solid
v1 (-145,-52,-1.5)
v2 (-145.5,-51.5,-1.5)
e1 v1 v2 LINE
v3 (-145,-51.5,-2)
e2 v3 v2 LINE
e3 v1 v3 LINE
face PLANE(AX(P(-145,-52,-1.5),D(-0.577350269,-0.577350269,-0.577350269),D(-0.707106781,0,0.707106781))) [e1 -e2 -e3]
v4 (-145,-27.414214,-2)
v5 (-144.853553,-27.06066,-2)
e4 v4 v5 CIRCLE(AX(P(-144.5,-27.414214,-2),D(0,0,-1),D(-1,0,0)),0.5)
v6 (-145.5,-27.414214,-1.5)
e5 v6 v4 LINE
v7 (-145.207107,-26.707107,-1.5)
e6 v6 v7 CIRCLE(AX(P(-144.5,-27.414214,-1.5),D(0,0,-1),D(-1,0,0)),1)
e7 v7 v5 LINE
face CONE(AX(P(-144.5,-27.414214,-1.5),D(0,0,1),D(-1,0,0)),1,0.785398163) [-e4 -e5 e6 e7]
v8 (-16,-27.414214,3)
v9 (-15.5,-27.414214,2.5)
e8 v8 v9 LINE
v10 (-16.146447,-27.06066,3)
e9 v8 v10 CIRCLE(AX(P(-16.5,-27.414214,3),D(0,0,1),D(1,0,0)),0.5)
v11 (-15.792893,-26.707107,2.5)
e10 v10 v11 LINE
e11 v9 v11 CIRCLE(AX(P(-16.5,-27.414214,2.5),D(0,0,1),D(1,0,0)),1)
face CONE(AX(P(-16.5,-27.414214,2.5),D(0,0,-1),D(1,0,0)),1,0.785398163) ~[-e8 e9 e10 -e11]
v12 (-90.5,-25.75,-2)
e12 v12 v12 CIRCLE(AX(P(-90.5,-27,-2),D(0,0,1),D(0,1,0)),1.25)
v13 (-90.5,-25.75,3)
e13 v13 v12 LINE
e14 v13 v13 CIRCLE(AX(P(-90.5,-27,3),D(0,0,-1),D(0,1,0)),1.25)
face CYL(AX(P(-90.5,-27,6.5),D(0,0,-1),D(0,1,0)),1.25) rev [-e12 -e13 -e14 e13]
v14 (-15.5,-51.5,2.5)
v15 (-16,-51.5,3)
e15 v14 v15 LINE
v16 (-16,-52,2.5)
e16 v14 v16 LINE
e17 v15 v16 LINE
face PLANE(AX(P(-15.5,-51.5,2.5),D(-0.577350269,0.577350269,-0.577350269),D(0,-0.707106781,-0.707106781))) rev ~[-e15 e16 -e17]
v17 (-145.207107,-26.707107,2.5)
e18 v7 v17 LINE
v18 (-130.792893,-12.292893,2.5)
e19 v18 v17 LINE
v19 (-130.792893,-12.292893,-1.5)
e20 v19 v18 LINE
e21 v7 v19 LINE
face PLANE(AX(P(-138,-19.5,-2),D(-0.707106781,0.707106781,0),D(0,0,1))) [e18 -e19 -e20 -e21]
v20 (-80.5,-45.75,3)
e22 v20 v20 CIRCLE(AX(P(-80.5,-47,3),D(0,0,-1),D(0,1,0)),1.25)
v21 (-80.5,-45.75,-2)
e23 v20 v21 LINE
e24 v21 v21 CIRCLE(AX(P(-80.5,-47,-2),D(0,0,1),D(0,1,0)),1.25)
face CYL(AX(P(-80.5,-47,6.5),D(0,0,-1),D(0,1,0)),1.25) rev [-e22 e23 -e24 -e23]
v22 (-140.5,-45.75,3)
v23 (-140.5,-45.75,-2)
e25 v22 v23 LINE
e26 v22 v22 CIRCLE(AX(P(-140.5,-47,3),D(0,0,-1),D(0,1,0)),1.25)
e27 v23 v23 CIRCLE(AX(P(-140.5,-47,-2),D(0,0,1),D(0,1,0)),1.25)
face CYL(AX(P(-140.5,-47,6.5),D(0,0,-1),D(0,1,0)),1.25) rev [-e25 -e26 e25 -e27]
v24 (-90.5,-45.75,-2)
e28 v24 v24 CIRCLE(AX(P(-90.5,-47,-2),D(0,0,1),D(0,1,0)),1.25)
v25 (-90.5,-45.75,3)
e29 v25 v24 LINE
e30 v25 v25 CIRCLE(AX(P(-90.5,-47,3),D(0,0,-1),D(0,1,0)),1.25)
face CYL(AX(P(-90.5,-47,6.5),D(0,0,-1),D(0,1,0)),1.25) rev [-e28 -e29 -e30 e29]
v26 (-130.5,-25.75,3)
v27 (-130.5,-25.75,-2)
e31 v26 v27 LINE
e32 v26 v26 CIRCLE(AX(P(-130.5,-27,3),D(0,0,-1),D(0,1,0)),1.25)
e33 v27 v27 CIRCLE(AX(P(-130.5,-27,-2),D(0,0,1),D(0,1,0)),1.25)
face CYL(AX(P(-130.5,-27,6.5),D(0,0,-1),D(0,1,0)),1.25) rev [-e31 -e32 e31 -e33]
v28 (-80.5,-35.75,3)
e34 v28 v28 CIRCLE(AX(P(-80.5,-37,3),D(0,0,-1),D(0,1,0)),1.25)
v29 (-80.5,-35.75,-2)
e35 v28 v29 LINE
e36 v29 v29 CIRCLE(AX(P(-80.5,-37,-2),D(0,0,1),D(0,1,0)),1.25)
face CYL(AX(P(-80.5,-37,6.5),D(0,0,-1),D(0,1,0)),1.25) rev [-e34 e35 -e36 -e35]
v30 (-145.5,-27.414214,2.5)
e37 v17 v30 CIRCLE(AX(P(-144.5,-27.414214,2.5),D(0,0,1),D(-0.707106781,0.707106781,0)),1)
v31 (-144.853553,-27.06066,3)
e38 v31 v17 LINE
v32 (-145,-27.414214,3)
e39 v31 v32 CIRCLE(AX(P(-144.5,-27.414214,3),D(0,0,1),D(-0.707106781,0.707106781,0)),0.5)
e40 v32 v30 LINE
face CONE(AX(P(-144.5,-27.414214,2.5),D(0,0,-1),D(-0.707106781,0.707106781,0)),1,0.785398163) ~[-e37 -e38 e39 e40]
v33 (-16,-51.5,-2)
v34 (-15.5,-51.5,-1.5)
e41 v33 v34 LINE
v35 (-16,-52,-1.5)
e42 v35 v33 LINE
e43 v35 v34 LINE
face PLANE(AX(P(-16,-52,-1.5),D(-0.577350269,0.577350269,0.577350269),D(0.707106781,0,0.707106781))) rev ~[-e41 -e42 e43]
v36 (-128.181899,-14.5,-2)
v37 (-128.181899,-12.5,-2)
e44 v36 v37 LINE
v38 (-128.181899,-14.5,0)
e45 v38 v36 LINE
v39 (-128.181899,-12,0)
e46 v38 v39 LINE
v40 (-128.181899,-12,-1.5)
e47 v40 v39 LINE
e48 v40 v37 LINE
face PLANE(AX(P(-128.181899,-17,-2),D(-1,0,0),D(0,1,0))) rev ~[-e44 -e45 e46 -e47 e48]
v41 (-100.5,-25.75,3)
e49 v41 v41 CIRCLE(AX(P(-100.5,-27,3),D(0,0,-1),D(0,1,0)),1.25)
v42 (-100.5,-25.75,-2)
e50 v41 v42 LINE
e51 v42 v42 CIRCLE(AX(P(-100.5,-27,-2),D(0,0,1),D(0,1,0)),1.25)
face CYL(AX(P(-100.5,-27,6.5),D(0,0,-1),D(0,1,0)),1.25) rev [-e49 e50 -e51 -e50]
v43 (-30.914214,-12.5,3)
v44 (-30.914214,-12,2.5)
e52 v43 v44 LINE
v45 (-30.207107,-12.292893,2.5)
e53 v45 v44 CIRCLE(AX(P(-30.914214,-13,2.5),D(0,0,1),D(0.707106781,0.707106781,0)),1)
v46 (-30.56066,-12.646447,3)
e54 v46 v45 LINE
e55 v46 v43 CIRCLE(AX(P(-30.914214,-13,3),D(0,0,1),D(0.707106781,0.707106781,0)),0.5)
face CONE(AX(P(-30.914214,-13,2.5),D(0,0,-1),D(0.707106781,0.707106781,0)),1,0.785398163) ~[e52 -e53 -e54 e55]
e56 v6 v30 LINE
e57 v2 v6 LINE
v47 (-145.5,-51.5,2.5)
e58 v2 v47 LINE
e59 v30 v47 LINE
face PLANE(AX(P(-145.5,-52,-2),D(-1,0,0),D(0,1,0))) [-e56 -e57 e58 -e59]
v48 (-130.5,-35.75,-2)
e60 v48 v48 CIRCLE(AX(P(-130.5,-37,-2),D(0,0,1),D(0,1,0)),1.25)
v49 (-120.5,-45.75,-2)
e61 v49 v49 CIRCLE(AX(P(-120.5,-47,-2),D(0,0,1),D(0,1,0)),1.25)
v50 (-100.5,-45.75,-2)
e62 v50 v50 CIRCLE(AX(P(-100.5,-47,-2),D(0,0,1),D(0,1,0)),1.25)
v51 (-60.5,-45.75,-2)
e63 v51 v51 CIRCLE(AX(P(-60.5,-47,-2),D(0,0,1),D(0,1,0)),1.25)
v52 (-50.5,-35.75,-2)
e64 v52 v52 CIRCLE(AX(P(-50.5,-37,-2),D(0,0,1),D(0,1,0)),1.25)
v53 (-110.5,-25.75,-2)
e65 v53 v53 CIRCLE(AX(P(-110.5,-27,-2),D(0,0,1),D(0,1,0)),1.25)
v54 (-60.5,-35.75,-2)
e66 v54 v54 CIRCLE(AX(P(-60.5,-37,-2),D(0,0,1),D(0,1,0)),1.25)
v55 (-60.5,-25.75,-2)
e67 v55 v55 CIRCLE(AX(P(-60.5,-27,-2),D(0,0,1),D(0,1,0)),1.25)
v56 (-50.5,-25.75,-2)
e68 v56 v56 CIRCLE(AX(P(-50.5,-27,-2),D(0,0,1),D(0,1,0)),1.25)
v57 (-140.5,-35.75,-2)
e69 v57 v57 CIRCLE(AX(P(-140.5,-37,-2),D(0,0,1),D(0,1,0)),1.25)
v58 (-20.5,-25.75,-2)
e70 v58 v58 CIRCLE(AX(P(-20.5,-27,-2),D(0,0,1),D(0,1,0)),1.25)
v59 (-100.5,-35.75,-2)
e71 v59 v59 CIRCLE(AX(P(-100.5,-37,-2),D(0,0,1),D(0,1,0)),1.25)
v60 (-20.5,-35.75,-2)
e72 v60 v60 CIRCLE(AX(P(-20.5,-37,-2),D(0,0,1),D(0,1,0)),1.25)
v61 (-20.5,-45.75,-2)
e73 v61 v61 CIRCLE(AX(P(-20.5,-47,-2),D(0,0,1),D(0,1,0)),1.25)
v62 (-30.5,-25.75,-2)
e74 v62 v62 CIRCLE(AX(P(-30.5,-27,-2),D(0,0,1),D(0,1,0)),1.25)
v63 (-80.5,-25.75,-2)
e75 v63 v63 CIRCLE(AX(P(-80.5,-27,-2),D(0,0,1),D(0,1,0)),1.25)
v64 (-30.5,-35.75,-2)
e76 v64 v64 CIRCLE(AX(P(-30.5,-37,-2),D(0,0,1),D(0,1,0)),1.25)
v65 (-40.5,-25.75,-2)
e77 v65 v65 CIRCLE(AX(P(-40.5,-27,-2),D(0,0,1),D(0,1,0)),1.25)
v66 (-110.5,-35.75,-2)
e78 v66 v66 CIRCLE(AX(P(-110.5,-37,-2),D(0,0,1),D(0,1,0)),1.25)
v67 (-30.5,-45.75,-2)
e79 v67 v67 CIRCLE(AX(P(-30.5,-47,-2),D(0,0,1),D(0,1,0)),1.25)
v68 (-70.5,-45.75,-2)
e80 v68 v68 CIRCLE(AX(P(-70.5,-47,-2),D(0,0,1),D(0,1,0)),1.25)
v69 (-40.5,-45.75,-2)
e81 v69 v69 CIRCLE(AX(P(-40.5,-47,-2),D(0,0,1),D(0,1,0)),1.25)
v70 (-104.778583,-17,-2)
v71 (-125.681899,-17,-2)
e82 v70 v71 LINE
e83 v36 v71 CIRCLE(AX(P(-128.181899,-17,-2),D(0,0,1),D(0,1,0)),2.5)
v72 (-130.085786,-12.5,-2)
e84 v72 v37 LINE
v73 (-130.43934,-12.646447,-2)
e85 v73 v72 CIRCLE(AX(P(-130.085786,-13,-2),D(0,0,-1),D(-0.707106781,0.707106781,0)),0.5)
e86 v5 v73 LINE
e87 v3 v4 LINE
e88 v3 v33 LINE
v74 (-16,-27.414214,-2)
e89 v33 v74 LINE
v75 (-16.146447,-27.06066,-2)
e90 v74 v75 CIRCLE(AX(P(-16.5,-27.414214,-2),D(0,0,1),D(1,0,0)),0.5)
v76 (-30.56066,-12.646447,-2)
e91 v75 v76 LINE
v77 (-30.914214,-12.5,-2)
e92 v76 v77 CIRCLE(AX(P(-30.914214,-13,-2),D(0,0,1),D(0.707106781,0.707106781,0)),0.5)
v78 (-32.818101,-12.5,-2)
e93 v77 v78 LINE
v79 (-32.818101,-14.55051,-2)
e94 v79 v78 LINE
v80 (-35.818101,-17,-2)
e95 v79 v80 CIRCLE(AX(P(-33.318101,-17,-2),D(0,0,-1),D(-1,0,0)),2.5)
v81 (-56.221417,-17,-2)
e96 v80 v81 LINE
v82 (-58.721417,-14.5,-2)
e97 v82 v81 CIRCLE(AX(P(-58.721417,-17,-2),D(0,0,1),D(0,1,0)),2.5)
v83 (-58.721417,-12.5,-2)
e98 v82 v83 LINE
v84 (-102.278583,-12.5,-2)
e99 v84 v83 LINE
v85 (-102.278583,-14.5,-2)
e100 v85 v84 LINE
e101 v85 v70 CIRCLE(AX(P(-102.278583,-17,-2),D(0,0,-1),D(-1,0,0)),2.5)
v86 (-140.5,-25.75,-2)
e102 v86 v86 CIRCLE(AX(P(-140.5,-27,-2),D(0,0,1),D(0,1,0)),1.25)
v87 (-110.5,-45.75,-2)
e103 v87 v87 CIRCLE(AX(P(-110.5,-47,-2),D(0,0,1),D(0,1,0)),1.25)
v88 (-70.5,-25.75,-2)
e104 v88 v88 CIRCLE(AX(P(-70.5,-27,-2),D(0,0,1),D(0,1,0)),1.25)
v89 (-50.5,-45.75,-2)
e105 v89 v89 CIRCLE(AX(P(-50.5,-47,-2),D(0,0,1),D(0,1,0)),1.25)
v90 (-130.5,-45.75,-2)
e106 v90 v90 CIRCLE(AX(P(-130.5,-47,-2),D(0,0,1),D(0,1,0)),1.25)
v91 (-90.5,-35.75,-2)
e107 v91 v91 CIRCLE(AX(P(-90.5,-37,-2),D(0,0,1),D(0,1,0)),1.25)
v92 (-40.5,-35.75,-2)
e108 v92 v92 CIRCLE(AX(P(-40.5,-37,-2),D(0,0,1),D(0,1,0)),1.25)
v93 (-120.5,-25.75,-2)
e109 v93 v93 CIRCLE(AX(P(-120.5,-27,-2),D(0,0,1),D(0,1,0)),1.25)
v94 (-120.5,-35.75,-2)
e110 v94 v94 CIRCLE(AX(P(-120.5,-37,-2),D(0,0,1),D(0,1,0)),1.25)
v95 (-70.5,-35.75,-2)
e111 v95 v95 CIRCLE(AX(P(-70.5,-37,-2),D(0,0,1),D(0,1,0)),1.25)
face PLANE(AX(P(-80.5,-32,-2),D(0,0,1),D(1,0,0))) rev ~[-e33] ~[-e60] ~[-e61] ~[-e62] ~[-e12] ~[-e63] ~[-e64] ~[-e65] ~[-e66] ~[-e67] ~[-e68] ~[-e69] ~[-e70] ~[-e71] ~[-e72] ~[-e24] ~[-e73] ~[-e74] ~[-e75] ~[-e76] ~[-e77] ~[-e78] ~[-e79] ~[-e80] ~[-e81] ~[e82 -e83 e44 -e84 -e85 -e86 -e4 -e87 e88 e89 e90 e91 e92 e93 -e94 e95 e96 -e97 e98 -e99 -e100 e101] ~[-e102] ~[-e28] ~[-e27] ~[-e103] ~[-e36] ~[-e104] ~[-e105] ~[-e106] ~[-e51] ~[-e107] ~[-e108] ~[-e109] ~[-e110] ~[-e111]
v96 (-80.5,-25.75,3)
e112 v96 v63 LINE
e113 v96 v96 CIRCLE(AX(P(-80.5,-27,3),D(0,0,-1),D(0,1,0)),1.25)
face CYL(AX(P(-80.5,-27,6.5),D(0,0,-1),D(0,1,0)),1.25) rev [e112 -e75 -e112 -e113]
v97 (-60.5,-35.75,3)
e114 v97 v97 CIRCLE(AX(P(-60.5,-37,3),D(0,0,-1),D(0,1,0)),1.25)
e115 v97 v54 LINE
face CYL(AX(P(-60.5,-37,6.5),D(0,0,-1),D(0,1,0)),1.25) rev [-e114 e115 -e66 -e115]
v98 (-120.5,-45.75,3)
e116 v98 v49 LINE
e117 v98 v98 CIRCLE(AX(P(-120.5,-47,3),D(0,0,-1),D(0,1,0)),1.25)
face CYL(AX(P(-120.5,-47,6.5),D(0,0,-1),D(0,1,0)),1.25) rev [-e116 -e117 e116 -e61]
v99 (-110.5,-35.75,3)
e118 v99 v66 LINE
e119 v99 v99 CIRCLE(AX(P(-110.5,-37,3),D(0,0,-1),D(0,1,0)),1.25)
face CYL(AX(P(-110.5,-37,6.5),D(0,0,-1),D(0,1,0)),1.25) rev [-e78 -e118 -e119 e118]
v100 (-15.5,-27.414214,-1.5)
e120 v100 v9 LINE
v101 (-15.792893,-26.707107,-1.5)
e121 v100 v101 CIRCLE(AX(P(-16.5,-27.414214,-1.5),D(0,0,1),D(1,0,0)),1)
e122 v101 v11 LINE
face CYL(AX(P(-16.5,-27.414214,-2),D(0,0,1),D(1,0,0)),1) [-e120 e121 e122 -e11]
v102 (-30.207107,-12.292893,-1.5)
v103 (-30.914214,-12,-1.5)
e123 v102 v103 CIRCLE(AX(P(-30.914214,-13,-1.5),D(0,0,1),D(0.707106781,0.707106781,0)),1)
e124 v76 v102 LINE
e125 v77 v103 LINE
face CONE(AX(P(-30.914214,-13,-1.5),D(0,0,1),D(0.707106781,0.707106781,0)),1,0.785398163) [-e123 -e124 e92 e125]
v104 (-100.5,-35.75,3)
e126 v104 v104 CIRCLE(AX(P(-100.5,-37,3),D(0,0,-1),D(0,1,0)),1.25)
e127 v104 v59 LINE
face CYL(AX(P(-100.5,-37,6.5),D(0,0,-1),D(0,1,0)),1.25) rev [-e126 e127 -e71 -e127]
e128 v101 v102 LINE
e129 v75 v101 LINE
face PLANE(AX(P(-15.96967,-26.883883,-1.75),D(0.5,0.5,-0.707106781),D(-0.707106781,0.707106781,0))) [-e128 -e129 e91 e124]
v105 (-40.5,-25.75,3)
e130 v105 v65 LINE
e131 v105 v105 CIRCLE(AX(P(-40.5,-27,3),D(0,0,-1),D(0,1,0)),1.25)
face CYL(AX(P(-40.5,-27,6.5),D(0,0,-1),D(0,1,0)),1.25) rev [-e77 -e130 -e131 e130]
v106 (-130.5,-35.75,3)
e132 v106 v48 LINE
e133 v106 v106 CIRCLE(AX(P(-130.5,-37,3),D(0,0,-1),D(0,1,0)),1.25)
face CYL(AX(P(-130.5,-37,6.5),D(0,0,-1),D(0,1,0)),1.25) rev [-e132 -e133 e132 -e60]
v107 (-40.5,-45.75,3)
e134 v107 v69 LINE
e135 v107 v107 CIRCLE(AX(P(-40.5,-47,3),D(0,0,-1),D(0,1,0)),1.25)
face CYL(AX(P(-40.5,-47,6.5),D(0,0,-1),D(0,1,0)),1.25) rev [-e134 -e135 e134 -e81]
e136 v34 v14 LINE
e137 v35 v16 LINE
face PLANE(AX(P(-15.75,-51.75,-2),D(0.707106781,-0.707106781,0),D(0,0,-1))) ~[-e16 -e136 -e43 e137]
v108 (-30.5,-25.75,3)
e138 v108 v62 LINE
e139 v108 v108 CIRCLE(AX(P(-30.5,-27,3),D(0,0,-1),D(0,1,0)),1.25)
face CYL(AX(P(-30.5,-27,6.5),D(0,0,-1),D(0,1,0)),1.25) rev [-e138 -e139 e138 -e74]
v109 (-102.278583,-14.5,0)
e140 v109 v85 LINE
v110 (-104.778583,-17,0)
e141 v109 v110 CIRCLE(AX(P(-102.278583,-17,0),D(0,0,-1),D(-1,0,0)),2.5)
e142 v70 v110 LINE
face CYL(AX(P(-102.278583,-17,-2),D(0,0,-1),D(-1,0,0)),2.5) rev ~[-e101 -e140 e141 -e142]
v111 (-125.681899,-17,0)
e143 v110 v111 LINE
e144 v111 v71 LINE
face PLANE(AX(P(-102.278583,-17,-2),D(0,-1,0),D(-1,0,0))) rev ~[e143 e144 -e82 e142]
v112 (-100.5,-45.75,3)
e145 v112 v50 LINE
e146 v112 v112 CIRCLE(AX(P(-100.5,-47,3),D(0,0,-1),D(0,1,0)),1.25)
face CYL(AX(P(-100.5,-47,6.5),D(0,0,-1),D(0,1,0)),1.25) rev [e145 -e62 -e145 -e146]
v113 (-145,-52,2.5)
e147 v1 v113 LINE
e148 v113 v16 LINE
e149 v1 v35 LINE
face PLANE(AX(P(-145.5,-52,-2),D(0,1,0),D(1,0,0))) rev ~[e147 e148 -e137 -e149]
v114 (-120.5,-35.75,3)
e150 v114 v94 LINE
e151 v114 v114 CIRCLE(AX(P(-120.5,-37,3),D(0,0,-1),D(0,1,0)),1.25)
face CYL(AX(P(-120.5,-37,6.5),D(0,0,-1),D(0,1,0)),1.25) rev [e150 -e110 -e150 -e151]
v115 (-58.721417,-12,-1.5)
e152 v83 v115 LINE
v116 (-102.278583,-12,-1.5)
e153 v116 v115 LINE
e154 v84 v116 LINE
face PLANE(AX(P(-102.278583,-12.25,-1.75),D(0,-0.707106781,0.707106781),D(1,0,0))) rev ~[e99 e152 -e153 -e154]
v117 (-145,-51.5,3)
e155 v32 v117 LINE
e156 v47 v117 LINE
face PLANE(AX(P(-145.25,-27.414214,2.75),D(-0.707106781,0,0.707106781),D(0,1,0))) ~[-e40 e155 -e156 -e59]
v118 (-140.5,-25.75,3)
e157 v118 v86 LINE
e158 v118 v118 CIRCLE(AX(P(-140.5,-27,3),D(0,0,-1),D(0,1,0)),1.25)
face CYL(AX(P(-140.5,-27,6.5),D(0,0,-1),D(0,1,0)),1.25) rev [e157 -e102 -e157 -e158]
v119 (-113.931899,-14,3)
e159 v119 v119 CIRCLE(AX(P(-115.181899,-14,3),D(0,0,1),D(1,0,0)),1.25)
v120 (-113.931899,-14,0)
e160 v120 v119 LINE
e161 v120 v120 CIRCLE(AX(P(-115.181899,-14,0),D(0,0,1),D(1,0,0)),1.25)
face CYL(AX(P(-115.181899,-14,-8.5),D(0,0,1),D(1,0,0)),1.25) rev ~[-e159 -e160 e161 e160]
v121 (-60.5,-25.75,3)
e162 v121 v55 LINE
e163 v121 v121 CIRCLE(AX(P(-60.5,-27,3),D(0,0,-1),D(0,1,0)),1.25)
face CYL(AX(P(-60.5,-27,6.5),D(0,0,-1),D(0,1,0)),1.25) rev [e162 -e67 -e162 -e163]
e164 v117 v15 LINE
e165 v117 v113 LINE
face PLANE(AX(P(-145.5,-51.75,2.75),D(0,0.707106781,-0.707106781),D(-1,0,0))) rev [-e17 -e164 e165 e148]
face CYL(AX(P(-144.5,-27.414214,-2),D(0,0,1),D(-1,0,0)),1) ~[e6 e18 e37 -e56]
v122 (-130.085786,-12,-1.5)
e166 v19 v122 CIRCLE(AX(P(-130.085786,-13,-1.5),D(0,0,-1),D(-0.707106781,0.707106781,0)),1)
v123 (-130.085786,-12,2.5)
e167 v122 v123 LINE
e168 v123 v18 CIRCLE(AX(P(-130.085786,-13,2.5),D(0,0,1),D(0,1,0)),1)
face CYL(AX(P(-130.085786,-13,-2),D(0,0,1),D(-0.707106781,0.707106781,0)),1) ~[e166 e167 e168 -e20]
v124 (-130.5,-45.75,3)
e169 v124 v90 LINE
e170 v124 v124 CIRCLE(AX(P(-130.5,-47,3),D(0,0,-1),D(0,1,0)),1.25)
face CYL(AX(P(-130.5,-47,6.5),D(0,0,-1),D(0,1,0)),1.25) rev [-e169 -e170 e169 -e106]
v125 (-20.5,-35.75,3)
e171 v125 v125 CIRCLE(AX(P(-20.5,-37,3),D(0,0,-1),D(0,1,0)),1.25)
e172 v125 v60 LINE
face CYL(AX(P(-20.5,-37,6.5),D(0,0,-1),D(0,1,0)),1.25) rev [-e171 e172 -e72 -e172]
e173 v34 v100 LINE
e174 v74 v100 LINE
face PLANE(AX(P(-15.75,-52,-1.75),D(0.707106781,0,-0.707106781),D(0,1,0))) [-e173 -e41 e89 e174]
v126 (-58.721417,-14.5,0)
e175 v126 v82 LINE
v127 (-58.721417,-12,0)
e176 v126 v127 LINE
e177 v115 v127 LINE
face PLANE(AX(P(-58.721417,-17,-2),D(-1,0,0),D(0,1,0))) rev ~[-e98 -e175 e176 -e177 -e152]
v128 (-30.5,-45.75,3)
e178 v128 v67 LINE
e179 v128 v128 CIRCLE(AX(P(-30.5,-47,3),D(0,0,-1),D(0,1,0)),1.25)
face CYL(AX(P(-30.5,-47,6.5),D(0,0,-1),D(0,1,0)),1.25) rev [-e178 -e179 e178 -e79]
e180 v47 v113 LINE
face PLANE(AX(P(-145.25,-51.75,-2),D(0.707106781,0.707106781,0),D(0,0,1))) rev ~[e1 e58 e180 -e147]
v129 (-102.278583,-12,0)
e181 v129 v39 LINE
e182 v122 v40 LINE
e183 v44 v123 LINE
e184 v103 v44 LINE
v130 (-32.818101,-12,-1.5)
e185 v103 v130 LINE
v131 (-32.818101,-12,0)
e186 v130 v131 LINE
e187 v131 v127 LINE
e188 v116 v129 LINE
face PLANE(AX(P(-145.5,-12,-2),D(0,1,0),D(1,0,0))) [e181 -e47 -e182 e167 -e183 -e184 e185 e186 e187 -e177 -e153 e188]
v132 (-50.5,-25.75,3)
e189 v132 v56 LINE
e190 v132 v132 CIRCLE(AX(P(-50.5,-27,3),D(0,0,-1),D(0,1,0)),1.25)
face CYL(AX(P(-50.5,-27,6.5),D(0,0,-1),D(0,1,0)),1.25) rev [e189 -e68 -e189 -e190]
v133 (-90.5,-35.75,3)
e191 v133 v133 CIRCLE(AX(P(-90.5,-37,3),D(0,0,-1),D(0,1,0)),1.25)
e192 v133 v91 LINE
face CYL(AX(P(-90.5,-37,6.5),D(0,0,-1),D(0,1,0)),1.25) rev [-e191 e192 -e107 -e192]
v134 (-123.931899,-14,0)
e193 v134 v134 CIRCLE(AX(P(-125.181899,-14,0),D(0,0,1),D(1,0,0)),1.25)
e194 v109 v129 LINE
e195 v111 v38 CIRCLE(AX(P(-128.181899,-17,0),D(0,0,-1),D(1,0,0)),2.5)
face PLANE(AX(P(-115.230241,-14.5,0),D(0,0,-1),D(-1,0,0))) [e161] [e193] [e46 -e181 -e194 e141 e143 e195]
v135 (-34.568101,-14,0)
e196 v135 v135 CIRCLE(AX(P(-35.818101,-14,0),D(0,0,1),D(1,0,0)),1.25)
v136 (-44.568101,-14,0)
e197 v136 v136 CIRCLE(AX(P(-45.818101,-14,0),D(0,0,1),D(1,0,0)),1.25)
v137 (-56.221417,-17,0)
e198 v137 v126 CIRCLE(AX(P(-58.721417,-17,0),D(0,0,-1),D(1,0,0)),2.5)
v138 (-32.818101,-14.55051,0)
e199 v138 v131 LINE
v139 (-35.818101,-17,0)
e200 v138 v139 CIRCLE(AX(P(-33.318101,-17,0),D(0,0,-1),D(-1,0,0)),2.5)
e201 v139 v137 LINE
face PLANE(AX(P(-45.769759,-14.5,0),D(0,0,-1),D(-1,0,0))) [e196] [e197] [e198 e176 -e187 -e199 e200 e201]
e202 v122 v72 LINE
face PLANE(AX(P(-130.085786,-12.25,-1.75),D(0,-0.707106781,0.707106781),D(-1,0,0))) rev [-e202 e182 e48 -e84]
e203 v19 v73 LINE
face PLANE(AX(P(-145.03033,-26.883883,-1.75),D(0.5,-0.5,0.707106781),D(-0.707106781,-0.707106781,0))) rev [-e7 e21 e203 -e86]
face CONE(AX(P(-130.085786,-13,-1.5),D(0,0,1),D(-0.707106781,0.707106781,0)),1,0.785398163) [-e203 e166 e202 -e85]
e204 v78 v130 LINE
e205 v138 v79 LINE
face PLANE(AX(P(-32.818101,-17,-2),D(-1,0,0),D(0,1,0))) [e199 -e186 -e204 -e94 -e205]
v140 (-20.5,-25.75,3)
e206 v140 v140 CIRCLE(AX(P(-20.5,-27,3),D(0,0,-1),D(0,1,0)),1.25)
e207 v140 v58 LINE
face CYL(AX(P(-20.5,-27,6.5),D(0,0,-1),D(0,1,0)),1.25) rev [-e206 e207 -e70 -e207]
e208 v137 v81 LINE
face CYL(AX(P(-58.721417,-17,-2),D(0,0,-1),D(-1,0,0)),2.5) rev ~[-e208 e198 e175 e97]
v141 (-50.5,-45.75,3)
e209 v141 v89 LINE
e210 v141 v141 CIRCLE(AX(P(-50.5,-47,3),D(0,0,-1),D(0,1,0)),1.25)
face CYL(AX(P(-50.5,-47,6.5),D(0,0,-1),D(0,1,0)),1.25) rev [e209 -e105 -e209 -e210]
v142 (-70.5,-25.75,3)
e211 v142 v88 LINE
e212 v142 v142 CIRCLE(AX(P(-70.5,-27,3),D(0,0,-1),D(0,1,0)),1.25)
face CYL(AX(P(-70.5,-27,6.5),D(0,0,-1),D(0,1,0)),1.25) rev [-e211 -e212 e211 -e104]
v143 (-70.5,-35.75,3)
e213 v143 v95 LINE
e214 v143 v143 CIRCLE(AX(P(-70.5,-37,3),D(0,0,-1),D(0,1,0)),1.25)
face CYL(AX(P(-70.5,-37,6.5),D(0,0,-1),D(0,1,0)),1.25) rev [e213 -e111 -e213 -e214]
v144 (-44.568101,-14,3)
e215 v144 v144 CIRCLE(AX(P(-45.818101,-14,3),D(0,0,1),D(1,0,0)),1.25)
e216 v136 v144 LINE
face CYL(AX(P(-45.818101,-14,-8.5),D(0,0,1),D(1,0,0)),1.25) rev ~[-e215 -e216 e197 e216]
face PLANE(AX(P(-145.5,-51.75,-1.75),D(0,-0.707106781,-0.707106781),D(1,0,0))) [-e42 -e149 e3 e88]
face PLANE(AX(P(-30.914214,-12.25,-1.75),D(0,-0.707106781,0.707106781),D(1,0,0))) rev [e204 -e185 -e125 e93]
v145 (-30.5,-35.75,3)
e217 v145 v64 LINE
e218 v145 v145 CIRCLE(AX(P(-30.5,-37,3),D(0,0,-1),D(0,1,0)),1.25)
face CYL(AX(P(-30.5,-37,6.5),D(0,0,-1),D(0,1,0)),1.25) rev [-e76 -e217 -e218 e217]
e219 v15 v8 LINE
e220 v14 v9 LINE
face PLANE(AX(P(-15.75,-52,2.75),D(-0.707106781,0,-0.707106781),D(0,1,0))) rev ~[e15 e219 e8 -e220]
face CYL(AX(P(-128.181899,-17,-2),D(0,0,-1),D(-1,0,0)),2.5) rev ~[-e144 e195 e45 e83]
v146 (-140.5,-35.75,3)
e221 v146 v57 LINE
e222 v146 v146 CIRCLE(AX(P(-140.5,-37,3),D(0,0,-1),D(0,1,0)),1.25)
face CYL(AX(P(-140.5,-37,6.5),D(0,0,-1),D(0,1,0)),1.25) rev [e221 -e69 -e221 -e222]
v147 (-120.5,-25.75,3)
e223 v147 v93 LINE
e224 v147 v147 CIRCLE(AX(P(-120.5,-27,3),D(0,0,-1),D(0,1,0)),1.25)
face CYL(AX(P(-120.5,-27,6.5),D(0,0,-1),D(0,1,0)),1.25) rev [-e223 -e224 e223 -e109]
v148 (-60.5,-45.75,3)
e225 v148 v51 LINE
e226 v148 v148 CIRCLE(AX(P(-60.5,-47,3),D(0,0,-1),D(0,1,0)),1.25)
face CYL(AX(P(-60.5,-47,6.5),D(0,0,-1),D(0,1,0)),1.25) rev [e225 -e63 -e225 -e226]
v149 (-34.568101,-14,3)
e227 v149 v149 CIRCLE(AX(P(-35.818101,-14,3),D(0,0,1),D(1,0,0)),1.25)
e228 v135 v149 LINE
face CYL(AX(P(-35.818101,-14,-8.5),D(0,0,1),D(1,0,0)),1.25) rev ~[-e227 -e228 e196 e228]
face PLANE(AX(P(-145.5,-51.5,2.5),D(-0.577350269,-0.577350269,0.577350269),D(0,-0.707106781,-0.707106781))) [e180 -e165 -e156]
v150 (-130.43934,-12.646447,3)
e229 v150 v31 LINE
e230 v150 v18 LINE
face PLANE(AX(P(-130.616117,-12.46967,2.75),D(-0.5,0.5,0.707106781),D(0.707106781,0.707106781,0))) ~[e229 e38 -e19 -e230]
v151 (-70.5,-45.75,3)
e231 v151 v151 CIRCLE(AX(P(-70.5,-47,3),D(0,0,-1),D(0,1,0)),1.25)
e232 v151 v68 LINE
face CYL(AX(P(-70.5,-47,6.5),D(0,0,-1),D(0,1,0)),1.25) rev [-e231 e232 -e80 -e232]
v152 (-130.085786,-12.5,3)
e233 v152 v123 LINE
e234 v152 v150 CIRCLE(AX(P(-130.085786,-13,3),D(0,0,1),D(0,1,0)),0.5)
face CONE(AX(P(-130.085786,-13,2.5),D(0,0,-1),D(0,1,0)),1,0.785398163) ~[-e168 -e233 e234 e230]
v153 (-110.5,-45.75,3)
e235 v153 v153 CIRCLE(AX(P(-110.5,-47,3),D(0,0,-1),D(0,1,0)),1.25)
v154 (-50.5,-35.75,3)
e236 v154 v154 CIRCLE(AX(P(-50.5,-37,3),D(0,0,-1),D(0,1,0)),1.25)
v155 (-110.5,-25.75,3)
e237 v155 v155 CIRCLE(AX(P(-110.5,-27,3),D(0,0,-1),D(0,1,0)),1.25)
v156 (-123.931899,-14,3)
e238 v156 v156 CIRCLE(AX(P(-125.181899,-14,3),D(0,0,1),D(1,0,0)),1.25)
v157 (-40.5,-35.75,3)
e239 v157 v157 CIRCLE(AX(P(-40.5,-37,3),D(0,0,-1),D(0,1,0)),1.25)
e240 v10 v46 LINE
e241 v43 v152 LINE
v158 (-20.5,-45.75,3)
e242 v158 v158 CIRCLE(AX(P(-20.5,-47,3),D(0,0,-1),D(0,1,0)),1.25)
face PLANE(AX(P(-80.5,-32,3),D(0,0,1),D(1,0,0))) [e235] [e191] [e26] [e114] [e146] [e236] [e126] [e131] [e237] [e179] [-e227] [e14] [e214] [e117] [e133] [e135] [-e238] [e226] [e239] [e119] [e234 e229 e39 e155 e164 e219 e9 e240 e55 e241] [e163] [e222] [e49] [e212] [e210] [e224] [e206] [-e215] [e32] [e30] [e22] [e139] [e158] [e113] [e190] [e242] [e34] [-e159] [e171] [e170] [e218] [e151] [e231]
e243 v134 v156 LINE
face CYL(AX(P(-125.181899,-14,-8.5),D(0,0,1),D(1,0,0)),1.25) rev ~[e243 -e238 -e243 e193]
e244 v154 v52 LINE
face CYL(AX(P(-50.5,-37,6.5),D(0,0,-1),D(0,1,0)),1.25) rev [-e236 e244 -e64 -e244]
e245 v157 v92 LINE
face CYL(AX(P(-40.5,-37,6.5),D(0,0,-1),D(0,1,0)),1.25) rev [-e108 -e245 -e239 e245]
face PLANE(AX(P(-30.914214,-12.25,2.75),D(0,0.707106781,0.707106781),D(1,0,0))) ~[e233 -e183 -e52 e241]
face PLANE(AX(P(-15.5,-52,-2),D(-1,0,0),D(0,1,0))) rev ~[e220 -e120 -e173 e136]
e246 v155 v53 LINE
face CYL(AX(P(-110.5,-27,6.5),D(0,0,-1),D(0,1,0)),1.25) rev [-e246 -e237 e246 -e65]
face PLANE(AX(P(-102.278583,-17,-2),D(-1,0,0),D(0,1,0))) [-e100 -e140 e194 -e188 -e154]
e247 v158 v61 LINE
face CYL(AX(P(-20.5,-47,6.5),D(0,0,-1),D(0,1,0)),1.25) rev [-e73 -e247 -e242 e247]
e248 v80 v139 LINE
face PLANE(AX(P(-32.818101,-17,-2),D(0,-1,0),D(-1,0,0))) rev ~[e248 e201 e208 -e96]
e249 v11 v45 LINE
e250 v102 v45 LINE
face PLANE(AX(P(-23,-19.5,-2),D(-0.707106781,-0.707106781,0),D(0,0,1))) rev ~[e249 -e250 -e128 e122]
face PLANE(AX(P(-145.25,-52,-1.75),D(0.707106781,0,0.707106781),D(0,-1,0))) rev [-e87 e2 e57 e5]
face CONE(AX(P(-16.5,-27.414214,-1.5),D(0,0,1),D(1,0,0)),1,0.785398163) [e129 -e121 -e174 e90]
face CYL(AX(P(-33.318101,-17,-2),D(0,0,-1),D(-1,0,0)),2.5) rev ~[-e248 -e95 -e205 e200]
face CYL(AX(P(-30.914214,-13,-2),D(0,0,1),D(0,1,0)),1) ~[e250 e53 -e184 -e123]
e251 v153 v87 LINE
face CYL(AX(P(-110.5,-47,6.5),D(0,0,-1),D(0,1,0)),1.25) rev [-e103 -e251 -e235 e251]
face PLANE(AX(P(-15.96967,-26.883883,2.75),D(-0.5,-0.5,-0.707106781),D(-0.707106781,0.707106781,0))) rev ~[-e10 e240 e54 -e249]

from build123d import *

# Parameters (mm, degrees)
EXTRUDE_1_DEPTH             = 3
EXTRUDE_1_DEPTH_BACK        = 2
SKETCH_2_W                  = 130
SKETCH_2_H                  = 40
SKETCH_6_W                  = 25.903315895
SKETCH_6_H                  = 5
CUT_EXTRUDE_6_DEPTH         = 2
SKETCH_7_R                  = 2.5
CUT_EXTRUDE_7_DEPTH         = 2
CHAMFER_1_SIZE              = 15
M3X0_5_1_D                  = 2.5
M3X0_5_1_DEPTH              = 8.5
M3X0_5_1_TIP                = 0.751075774
FILLET_1_R                  = 1
PATTERN_LINEAR_1_COUNT      = 7
PATTERN_LINEAR_1_PITCH      = 10
PATTERN_LINEAR_1_COUNT_DIR2 = 3
PATTERN_LINEAR_1_PITCH_DIR2 = 10
PATTERN_LINEAR_2_COUNT      = 7
PATTERN_LINEAR_2_PITCH      = 10
PATTERN_LINEAR_2_COUNT_DIR2 = 3
PATTERN_LINEAR_2_PITCH_DIR2 = 10
CHAMFER_2_SIZE              = 0.5


with BuildPart() as part:
    # ｽｹｯﾁ2 → ﾎﾞｽ - 押し出し1 (new, two sides: drawn at the far end of the back side and taken through both)
    with BuildSketch(Plane.XY.offset(-EXTRUDE_1_DEPTH_BACK)):
        with Locations((-80.49999999, -32)):
            Rectangle(SKETCH_2_W, SKETCH_2_H)
    extrude(amount=EXTRUDE_1_DEPTH + EXTRUDE_1_DEPTH_BACK)

    # ｽｹｯﾁ6 → ｶｯﾄ - 押し出し6 (cut)
    with BuildSketch(Plane(origin=(0, 0, -2), x_dir=(-1, 0, 0), z_dir=(0, 0, -1))):
        with Locations((115.230241042, -14.5)):
            Rectangle(SKETCH_6_W, SKETCH_6_H)
        with Locations((45.76975894, -14.5)):
            Rectangle(SKETCH_6_W, SKETCH_6_H)
    extrude(amount=-CUT_EXTRUDE_6_DEPTH, mode=Mode.SUBTRACT)

    # ｽｹｯﾁ7 → ｶｯﾄ - 押し出し7 (cut)
    with BuildSketch(Plane(origin=(0, 0, -2), x_dir=(-1, 0, 0), z_dir=(0, 0, -1))):
        with Locations((33.318100992, -17)):
            Circle(SKETCH_7_R)
        with Locations((128.181898989, -17)):
            Circle(SKETCH_7_R)
        with Locations((102.278583094, -17)):
            Circle(SKETCH_7_R)
        with Locations((58.721416887, -17)):
            Circle(SKETCH_7_R)
    extrude(amount=-CUT_EXTRUDE_7_DEPTH, mode=Mode.SUBTRACT)

    # 面取り1
    chamfer_1_edges = [part.edges().sort_by_distance(p)[0] for p in [
        (-145.49999999, -12, 0.5),
        (-15.49999999, -12, 0.5),
    ]]
    chamfer(chamfer_1_edges, length=CHAMFER_1_SIZE)

    # M3x0.5 ねじ穴1
    with Locations(Plane(origin=(0, 0, 0), x_dir=(-1, 0, 0), z_dir=(0, 0, -1))):
        with Locations((35.818100992, -14), (125.181898989, -14), (45.818100992, -14), (115.181898989, -14)):
            Hole(M3X0_5_1_D / 2, depth=M3X0_5_1_DEPTH)
            with Locations((0, 0, -(M3X0_5_1_DEPTH + M3X0_5_1_TIP / 2))):  # 118° drill point
                Cone(0, M3X0_5_1_D / 2, M3X0_5_1_TIP, mode=Mode.SUBTRACT)

    # ﾌｨﾚｯﾄ1
    fillet_1_edges = [part.edges().sort_by_distance(p)[0] for p in [
        (-30.49999999, -12, 0.5),
        (-130.49999999, -12, 0.5),
        (-145.49999999, -27, 0.5),
        (-15.49999999, -27, 0.5),
    ]]
    fillet(fillet_1_edges, radius=FILLET_1_R)

    # ｽｹｯﾁ11 → M3x0.5 ねじ穴2 (revolve, cut)
    with BuildSketch(Plane(origin=(-80.49999999, -47, -2), x_dir=(0, 1, 0), z_dir=(1, 0, 0))):
        Polygon((0, 0), (0, 9.251075774), (1.25, 8.5), (1.25, 0), align=None)
    m3x0_5_2 = revolve(axis=Axis((-80.49999999, -47, -8.35), (0, 0, 1)), mode=Mode.SUBTRACT)

    # 直線ﾊﾟﾀｰﾝ1: M3x0.5 _2 7 × 3
    with Locations(*[(i * PATTERN_LINEAR_1_PITCH, j * PATTERN_LINEAR_1_PITCH_DIR2, 0) for i in range(PATTERN_LINEAR_1_COUNT) for j in range(PATTERN_LINEAR_1_COUNT_DIR2) if (i, j) != (0, 0)]):
        add(m3x0_5_2, mode=Mode.SUBTRACT)

    # 直線ﾊﾟﾀｰﾝ2: M3x0.5 _2 7 × 3
    with Locations(*[(-i * PATTERN_LINEAR_2_PITCH, j * PATTERN_LINEAR_2_PITCH_DIR2, 0) for i in range(PATTERN_LINEAR_2_COUNT) for j in range(PATTERN_LINEAR_2_COUNT_DIR2) if (i, j) != (0, 0)]):
        add(m3x0_5_2, mode=Mode.SUBTRACT)

    # 面取り2
    chamfer_2_edges = [part.edges().sort_by_distance(p)[0] for p in [
        (-15.49999999, -39.707106781, -2),
        (-80.49999999, -52, 3),
        (-15.49999999, -39.707106781, 3),
        (-145.49999999, -39.707106781, 3),
        (-145.49999999, -39.707106781, -2),
        (-137.99999999, -19.5, -2),
        (-31.866157273, -12, -2),
        (-22.99999999, -19.5, -2),
        (-15.576120458, -27.03153013, -2),
        (-30.53153012, -12.076120467, -2),
        (-130.46846986, -12.076120467, -2),
        (-145.423879523, -27.03153013, -2),
        (-137.99999999, -19.5, 3),
        (-80.49999999, -12, 3),
        (-22.99999999, -19.5, 3),
        (-15.576120458, -27.03153013, 3),
        (-30.53153012, -12.076120467, 3),
        (-130.46846986, -12.076120467, 3),
        (-145.423879523, -27.03153013, 3),
        (-80.49999999, -12, -2),
        (-129.133842708, -12, -2),
        (-80.49999999, -52, -2),
        (-15.49999999, -52, 0.5),
        (-145.49999999, -52, 0.5),
    ]]
    chamfer(chamfer_2_edges, length=CHAMFER_2_SIZE)


solid = part.part
